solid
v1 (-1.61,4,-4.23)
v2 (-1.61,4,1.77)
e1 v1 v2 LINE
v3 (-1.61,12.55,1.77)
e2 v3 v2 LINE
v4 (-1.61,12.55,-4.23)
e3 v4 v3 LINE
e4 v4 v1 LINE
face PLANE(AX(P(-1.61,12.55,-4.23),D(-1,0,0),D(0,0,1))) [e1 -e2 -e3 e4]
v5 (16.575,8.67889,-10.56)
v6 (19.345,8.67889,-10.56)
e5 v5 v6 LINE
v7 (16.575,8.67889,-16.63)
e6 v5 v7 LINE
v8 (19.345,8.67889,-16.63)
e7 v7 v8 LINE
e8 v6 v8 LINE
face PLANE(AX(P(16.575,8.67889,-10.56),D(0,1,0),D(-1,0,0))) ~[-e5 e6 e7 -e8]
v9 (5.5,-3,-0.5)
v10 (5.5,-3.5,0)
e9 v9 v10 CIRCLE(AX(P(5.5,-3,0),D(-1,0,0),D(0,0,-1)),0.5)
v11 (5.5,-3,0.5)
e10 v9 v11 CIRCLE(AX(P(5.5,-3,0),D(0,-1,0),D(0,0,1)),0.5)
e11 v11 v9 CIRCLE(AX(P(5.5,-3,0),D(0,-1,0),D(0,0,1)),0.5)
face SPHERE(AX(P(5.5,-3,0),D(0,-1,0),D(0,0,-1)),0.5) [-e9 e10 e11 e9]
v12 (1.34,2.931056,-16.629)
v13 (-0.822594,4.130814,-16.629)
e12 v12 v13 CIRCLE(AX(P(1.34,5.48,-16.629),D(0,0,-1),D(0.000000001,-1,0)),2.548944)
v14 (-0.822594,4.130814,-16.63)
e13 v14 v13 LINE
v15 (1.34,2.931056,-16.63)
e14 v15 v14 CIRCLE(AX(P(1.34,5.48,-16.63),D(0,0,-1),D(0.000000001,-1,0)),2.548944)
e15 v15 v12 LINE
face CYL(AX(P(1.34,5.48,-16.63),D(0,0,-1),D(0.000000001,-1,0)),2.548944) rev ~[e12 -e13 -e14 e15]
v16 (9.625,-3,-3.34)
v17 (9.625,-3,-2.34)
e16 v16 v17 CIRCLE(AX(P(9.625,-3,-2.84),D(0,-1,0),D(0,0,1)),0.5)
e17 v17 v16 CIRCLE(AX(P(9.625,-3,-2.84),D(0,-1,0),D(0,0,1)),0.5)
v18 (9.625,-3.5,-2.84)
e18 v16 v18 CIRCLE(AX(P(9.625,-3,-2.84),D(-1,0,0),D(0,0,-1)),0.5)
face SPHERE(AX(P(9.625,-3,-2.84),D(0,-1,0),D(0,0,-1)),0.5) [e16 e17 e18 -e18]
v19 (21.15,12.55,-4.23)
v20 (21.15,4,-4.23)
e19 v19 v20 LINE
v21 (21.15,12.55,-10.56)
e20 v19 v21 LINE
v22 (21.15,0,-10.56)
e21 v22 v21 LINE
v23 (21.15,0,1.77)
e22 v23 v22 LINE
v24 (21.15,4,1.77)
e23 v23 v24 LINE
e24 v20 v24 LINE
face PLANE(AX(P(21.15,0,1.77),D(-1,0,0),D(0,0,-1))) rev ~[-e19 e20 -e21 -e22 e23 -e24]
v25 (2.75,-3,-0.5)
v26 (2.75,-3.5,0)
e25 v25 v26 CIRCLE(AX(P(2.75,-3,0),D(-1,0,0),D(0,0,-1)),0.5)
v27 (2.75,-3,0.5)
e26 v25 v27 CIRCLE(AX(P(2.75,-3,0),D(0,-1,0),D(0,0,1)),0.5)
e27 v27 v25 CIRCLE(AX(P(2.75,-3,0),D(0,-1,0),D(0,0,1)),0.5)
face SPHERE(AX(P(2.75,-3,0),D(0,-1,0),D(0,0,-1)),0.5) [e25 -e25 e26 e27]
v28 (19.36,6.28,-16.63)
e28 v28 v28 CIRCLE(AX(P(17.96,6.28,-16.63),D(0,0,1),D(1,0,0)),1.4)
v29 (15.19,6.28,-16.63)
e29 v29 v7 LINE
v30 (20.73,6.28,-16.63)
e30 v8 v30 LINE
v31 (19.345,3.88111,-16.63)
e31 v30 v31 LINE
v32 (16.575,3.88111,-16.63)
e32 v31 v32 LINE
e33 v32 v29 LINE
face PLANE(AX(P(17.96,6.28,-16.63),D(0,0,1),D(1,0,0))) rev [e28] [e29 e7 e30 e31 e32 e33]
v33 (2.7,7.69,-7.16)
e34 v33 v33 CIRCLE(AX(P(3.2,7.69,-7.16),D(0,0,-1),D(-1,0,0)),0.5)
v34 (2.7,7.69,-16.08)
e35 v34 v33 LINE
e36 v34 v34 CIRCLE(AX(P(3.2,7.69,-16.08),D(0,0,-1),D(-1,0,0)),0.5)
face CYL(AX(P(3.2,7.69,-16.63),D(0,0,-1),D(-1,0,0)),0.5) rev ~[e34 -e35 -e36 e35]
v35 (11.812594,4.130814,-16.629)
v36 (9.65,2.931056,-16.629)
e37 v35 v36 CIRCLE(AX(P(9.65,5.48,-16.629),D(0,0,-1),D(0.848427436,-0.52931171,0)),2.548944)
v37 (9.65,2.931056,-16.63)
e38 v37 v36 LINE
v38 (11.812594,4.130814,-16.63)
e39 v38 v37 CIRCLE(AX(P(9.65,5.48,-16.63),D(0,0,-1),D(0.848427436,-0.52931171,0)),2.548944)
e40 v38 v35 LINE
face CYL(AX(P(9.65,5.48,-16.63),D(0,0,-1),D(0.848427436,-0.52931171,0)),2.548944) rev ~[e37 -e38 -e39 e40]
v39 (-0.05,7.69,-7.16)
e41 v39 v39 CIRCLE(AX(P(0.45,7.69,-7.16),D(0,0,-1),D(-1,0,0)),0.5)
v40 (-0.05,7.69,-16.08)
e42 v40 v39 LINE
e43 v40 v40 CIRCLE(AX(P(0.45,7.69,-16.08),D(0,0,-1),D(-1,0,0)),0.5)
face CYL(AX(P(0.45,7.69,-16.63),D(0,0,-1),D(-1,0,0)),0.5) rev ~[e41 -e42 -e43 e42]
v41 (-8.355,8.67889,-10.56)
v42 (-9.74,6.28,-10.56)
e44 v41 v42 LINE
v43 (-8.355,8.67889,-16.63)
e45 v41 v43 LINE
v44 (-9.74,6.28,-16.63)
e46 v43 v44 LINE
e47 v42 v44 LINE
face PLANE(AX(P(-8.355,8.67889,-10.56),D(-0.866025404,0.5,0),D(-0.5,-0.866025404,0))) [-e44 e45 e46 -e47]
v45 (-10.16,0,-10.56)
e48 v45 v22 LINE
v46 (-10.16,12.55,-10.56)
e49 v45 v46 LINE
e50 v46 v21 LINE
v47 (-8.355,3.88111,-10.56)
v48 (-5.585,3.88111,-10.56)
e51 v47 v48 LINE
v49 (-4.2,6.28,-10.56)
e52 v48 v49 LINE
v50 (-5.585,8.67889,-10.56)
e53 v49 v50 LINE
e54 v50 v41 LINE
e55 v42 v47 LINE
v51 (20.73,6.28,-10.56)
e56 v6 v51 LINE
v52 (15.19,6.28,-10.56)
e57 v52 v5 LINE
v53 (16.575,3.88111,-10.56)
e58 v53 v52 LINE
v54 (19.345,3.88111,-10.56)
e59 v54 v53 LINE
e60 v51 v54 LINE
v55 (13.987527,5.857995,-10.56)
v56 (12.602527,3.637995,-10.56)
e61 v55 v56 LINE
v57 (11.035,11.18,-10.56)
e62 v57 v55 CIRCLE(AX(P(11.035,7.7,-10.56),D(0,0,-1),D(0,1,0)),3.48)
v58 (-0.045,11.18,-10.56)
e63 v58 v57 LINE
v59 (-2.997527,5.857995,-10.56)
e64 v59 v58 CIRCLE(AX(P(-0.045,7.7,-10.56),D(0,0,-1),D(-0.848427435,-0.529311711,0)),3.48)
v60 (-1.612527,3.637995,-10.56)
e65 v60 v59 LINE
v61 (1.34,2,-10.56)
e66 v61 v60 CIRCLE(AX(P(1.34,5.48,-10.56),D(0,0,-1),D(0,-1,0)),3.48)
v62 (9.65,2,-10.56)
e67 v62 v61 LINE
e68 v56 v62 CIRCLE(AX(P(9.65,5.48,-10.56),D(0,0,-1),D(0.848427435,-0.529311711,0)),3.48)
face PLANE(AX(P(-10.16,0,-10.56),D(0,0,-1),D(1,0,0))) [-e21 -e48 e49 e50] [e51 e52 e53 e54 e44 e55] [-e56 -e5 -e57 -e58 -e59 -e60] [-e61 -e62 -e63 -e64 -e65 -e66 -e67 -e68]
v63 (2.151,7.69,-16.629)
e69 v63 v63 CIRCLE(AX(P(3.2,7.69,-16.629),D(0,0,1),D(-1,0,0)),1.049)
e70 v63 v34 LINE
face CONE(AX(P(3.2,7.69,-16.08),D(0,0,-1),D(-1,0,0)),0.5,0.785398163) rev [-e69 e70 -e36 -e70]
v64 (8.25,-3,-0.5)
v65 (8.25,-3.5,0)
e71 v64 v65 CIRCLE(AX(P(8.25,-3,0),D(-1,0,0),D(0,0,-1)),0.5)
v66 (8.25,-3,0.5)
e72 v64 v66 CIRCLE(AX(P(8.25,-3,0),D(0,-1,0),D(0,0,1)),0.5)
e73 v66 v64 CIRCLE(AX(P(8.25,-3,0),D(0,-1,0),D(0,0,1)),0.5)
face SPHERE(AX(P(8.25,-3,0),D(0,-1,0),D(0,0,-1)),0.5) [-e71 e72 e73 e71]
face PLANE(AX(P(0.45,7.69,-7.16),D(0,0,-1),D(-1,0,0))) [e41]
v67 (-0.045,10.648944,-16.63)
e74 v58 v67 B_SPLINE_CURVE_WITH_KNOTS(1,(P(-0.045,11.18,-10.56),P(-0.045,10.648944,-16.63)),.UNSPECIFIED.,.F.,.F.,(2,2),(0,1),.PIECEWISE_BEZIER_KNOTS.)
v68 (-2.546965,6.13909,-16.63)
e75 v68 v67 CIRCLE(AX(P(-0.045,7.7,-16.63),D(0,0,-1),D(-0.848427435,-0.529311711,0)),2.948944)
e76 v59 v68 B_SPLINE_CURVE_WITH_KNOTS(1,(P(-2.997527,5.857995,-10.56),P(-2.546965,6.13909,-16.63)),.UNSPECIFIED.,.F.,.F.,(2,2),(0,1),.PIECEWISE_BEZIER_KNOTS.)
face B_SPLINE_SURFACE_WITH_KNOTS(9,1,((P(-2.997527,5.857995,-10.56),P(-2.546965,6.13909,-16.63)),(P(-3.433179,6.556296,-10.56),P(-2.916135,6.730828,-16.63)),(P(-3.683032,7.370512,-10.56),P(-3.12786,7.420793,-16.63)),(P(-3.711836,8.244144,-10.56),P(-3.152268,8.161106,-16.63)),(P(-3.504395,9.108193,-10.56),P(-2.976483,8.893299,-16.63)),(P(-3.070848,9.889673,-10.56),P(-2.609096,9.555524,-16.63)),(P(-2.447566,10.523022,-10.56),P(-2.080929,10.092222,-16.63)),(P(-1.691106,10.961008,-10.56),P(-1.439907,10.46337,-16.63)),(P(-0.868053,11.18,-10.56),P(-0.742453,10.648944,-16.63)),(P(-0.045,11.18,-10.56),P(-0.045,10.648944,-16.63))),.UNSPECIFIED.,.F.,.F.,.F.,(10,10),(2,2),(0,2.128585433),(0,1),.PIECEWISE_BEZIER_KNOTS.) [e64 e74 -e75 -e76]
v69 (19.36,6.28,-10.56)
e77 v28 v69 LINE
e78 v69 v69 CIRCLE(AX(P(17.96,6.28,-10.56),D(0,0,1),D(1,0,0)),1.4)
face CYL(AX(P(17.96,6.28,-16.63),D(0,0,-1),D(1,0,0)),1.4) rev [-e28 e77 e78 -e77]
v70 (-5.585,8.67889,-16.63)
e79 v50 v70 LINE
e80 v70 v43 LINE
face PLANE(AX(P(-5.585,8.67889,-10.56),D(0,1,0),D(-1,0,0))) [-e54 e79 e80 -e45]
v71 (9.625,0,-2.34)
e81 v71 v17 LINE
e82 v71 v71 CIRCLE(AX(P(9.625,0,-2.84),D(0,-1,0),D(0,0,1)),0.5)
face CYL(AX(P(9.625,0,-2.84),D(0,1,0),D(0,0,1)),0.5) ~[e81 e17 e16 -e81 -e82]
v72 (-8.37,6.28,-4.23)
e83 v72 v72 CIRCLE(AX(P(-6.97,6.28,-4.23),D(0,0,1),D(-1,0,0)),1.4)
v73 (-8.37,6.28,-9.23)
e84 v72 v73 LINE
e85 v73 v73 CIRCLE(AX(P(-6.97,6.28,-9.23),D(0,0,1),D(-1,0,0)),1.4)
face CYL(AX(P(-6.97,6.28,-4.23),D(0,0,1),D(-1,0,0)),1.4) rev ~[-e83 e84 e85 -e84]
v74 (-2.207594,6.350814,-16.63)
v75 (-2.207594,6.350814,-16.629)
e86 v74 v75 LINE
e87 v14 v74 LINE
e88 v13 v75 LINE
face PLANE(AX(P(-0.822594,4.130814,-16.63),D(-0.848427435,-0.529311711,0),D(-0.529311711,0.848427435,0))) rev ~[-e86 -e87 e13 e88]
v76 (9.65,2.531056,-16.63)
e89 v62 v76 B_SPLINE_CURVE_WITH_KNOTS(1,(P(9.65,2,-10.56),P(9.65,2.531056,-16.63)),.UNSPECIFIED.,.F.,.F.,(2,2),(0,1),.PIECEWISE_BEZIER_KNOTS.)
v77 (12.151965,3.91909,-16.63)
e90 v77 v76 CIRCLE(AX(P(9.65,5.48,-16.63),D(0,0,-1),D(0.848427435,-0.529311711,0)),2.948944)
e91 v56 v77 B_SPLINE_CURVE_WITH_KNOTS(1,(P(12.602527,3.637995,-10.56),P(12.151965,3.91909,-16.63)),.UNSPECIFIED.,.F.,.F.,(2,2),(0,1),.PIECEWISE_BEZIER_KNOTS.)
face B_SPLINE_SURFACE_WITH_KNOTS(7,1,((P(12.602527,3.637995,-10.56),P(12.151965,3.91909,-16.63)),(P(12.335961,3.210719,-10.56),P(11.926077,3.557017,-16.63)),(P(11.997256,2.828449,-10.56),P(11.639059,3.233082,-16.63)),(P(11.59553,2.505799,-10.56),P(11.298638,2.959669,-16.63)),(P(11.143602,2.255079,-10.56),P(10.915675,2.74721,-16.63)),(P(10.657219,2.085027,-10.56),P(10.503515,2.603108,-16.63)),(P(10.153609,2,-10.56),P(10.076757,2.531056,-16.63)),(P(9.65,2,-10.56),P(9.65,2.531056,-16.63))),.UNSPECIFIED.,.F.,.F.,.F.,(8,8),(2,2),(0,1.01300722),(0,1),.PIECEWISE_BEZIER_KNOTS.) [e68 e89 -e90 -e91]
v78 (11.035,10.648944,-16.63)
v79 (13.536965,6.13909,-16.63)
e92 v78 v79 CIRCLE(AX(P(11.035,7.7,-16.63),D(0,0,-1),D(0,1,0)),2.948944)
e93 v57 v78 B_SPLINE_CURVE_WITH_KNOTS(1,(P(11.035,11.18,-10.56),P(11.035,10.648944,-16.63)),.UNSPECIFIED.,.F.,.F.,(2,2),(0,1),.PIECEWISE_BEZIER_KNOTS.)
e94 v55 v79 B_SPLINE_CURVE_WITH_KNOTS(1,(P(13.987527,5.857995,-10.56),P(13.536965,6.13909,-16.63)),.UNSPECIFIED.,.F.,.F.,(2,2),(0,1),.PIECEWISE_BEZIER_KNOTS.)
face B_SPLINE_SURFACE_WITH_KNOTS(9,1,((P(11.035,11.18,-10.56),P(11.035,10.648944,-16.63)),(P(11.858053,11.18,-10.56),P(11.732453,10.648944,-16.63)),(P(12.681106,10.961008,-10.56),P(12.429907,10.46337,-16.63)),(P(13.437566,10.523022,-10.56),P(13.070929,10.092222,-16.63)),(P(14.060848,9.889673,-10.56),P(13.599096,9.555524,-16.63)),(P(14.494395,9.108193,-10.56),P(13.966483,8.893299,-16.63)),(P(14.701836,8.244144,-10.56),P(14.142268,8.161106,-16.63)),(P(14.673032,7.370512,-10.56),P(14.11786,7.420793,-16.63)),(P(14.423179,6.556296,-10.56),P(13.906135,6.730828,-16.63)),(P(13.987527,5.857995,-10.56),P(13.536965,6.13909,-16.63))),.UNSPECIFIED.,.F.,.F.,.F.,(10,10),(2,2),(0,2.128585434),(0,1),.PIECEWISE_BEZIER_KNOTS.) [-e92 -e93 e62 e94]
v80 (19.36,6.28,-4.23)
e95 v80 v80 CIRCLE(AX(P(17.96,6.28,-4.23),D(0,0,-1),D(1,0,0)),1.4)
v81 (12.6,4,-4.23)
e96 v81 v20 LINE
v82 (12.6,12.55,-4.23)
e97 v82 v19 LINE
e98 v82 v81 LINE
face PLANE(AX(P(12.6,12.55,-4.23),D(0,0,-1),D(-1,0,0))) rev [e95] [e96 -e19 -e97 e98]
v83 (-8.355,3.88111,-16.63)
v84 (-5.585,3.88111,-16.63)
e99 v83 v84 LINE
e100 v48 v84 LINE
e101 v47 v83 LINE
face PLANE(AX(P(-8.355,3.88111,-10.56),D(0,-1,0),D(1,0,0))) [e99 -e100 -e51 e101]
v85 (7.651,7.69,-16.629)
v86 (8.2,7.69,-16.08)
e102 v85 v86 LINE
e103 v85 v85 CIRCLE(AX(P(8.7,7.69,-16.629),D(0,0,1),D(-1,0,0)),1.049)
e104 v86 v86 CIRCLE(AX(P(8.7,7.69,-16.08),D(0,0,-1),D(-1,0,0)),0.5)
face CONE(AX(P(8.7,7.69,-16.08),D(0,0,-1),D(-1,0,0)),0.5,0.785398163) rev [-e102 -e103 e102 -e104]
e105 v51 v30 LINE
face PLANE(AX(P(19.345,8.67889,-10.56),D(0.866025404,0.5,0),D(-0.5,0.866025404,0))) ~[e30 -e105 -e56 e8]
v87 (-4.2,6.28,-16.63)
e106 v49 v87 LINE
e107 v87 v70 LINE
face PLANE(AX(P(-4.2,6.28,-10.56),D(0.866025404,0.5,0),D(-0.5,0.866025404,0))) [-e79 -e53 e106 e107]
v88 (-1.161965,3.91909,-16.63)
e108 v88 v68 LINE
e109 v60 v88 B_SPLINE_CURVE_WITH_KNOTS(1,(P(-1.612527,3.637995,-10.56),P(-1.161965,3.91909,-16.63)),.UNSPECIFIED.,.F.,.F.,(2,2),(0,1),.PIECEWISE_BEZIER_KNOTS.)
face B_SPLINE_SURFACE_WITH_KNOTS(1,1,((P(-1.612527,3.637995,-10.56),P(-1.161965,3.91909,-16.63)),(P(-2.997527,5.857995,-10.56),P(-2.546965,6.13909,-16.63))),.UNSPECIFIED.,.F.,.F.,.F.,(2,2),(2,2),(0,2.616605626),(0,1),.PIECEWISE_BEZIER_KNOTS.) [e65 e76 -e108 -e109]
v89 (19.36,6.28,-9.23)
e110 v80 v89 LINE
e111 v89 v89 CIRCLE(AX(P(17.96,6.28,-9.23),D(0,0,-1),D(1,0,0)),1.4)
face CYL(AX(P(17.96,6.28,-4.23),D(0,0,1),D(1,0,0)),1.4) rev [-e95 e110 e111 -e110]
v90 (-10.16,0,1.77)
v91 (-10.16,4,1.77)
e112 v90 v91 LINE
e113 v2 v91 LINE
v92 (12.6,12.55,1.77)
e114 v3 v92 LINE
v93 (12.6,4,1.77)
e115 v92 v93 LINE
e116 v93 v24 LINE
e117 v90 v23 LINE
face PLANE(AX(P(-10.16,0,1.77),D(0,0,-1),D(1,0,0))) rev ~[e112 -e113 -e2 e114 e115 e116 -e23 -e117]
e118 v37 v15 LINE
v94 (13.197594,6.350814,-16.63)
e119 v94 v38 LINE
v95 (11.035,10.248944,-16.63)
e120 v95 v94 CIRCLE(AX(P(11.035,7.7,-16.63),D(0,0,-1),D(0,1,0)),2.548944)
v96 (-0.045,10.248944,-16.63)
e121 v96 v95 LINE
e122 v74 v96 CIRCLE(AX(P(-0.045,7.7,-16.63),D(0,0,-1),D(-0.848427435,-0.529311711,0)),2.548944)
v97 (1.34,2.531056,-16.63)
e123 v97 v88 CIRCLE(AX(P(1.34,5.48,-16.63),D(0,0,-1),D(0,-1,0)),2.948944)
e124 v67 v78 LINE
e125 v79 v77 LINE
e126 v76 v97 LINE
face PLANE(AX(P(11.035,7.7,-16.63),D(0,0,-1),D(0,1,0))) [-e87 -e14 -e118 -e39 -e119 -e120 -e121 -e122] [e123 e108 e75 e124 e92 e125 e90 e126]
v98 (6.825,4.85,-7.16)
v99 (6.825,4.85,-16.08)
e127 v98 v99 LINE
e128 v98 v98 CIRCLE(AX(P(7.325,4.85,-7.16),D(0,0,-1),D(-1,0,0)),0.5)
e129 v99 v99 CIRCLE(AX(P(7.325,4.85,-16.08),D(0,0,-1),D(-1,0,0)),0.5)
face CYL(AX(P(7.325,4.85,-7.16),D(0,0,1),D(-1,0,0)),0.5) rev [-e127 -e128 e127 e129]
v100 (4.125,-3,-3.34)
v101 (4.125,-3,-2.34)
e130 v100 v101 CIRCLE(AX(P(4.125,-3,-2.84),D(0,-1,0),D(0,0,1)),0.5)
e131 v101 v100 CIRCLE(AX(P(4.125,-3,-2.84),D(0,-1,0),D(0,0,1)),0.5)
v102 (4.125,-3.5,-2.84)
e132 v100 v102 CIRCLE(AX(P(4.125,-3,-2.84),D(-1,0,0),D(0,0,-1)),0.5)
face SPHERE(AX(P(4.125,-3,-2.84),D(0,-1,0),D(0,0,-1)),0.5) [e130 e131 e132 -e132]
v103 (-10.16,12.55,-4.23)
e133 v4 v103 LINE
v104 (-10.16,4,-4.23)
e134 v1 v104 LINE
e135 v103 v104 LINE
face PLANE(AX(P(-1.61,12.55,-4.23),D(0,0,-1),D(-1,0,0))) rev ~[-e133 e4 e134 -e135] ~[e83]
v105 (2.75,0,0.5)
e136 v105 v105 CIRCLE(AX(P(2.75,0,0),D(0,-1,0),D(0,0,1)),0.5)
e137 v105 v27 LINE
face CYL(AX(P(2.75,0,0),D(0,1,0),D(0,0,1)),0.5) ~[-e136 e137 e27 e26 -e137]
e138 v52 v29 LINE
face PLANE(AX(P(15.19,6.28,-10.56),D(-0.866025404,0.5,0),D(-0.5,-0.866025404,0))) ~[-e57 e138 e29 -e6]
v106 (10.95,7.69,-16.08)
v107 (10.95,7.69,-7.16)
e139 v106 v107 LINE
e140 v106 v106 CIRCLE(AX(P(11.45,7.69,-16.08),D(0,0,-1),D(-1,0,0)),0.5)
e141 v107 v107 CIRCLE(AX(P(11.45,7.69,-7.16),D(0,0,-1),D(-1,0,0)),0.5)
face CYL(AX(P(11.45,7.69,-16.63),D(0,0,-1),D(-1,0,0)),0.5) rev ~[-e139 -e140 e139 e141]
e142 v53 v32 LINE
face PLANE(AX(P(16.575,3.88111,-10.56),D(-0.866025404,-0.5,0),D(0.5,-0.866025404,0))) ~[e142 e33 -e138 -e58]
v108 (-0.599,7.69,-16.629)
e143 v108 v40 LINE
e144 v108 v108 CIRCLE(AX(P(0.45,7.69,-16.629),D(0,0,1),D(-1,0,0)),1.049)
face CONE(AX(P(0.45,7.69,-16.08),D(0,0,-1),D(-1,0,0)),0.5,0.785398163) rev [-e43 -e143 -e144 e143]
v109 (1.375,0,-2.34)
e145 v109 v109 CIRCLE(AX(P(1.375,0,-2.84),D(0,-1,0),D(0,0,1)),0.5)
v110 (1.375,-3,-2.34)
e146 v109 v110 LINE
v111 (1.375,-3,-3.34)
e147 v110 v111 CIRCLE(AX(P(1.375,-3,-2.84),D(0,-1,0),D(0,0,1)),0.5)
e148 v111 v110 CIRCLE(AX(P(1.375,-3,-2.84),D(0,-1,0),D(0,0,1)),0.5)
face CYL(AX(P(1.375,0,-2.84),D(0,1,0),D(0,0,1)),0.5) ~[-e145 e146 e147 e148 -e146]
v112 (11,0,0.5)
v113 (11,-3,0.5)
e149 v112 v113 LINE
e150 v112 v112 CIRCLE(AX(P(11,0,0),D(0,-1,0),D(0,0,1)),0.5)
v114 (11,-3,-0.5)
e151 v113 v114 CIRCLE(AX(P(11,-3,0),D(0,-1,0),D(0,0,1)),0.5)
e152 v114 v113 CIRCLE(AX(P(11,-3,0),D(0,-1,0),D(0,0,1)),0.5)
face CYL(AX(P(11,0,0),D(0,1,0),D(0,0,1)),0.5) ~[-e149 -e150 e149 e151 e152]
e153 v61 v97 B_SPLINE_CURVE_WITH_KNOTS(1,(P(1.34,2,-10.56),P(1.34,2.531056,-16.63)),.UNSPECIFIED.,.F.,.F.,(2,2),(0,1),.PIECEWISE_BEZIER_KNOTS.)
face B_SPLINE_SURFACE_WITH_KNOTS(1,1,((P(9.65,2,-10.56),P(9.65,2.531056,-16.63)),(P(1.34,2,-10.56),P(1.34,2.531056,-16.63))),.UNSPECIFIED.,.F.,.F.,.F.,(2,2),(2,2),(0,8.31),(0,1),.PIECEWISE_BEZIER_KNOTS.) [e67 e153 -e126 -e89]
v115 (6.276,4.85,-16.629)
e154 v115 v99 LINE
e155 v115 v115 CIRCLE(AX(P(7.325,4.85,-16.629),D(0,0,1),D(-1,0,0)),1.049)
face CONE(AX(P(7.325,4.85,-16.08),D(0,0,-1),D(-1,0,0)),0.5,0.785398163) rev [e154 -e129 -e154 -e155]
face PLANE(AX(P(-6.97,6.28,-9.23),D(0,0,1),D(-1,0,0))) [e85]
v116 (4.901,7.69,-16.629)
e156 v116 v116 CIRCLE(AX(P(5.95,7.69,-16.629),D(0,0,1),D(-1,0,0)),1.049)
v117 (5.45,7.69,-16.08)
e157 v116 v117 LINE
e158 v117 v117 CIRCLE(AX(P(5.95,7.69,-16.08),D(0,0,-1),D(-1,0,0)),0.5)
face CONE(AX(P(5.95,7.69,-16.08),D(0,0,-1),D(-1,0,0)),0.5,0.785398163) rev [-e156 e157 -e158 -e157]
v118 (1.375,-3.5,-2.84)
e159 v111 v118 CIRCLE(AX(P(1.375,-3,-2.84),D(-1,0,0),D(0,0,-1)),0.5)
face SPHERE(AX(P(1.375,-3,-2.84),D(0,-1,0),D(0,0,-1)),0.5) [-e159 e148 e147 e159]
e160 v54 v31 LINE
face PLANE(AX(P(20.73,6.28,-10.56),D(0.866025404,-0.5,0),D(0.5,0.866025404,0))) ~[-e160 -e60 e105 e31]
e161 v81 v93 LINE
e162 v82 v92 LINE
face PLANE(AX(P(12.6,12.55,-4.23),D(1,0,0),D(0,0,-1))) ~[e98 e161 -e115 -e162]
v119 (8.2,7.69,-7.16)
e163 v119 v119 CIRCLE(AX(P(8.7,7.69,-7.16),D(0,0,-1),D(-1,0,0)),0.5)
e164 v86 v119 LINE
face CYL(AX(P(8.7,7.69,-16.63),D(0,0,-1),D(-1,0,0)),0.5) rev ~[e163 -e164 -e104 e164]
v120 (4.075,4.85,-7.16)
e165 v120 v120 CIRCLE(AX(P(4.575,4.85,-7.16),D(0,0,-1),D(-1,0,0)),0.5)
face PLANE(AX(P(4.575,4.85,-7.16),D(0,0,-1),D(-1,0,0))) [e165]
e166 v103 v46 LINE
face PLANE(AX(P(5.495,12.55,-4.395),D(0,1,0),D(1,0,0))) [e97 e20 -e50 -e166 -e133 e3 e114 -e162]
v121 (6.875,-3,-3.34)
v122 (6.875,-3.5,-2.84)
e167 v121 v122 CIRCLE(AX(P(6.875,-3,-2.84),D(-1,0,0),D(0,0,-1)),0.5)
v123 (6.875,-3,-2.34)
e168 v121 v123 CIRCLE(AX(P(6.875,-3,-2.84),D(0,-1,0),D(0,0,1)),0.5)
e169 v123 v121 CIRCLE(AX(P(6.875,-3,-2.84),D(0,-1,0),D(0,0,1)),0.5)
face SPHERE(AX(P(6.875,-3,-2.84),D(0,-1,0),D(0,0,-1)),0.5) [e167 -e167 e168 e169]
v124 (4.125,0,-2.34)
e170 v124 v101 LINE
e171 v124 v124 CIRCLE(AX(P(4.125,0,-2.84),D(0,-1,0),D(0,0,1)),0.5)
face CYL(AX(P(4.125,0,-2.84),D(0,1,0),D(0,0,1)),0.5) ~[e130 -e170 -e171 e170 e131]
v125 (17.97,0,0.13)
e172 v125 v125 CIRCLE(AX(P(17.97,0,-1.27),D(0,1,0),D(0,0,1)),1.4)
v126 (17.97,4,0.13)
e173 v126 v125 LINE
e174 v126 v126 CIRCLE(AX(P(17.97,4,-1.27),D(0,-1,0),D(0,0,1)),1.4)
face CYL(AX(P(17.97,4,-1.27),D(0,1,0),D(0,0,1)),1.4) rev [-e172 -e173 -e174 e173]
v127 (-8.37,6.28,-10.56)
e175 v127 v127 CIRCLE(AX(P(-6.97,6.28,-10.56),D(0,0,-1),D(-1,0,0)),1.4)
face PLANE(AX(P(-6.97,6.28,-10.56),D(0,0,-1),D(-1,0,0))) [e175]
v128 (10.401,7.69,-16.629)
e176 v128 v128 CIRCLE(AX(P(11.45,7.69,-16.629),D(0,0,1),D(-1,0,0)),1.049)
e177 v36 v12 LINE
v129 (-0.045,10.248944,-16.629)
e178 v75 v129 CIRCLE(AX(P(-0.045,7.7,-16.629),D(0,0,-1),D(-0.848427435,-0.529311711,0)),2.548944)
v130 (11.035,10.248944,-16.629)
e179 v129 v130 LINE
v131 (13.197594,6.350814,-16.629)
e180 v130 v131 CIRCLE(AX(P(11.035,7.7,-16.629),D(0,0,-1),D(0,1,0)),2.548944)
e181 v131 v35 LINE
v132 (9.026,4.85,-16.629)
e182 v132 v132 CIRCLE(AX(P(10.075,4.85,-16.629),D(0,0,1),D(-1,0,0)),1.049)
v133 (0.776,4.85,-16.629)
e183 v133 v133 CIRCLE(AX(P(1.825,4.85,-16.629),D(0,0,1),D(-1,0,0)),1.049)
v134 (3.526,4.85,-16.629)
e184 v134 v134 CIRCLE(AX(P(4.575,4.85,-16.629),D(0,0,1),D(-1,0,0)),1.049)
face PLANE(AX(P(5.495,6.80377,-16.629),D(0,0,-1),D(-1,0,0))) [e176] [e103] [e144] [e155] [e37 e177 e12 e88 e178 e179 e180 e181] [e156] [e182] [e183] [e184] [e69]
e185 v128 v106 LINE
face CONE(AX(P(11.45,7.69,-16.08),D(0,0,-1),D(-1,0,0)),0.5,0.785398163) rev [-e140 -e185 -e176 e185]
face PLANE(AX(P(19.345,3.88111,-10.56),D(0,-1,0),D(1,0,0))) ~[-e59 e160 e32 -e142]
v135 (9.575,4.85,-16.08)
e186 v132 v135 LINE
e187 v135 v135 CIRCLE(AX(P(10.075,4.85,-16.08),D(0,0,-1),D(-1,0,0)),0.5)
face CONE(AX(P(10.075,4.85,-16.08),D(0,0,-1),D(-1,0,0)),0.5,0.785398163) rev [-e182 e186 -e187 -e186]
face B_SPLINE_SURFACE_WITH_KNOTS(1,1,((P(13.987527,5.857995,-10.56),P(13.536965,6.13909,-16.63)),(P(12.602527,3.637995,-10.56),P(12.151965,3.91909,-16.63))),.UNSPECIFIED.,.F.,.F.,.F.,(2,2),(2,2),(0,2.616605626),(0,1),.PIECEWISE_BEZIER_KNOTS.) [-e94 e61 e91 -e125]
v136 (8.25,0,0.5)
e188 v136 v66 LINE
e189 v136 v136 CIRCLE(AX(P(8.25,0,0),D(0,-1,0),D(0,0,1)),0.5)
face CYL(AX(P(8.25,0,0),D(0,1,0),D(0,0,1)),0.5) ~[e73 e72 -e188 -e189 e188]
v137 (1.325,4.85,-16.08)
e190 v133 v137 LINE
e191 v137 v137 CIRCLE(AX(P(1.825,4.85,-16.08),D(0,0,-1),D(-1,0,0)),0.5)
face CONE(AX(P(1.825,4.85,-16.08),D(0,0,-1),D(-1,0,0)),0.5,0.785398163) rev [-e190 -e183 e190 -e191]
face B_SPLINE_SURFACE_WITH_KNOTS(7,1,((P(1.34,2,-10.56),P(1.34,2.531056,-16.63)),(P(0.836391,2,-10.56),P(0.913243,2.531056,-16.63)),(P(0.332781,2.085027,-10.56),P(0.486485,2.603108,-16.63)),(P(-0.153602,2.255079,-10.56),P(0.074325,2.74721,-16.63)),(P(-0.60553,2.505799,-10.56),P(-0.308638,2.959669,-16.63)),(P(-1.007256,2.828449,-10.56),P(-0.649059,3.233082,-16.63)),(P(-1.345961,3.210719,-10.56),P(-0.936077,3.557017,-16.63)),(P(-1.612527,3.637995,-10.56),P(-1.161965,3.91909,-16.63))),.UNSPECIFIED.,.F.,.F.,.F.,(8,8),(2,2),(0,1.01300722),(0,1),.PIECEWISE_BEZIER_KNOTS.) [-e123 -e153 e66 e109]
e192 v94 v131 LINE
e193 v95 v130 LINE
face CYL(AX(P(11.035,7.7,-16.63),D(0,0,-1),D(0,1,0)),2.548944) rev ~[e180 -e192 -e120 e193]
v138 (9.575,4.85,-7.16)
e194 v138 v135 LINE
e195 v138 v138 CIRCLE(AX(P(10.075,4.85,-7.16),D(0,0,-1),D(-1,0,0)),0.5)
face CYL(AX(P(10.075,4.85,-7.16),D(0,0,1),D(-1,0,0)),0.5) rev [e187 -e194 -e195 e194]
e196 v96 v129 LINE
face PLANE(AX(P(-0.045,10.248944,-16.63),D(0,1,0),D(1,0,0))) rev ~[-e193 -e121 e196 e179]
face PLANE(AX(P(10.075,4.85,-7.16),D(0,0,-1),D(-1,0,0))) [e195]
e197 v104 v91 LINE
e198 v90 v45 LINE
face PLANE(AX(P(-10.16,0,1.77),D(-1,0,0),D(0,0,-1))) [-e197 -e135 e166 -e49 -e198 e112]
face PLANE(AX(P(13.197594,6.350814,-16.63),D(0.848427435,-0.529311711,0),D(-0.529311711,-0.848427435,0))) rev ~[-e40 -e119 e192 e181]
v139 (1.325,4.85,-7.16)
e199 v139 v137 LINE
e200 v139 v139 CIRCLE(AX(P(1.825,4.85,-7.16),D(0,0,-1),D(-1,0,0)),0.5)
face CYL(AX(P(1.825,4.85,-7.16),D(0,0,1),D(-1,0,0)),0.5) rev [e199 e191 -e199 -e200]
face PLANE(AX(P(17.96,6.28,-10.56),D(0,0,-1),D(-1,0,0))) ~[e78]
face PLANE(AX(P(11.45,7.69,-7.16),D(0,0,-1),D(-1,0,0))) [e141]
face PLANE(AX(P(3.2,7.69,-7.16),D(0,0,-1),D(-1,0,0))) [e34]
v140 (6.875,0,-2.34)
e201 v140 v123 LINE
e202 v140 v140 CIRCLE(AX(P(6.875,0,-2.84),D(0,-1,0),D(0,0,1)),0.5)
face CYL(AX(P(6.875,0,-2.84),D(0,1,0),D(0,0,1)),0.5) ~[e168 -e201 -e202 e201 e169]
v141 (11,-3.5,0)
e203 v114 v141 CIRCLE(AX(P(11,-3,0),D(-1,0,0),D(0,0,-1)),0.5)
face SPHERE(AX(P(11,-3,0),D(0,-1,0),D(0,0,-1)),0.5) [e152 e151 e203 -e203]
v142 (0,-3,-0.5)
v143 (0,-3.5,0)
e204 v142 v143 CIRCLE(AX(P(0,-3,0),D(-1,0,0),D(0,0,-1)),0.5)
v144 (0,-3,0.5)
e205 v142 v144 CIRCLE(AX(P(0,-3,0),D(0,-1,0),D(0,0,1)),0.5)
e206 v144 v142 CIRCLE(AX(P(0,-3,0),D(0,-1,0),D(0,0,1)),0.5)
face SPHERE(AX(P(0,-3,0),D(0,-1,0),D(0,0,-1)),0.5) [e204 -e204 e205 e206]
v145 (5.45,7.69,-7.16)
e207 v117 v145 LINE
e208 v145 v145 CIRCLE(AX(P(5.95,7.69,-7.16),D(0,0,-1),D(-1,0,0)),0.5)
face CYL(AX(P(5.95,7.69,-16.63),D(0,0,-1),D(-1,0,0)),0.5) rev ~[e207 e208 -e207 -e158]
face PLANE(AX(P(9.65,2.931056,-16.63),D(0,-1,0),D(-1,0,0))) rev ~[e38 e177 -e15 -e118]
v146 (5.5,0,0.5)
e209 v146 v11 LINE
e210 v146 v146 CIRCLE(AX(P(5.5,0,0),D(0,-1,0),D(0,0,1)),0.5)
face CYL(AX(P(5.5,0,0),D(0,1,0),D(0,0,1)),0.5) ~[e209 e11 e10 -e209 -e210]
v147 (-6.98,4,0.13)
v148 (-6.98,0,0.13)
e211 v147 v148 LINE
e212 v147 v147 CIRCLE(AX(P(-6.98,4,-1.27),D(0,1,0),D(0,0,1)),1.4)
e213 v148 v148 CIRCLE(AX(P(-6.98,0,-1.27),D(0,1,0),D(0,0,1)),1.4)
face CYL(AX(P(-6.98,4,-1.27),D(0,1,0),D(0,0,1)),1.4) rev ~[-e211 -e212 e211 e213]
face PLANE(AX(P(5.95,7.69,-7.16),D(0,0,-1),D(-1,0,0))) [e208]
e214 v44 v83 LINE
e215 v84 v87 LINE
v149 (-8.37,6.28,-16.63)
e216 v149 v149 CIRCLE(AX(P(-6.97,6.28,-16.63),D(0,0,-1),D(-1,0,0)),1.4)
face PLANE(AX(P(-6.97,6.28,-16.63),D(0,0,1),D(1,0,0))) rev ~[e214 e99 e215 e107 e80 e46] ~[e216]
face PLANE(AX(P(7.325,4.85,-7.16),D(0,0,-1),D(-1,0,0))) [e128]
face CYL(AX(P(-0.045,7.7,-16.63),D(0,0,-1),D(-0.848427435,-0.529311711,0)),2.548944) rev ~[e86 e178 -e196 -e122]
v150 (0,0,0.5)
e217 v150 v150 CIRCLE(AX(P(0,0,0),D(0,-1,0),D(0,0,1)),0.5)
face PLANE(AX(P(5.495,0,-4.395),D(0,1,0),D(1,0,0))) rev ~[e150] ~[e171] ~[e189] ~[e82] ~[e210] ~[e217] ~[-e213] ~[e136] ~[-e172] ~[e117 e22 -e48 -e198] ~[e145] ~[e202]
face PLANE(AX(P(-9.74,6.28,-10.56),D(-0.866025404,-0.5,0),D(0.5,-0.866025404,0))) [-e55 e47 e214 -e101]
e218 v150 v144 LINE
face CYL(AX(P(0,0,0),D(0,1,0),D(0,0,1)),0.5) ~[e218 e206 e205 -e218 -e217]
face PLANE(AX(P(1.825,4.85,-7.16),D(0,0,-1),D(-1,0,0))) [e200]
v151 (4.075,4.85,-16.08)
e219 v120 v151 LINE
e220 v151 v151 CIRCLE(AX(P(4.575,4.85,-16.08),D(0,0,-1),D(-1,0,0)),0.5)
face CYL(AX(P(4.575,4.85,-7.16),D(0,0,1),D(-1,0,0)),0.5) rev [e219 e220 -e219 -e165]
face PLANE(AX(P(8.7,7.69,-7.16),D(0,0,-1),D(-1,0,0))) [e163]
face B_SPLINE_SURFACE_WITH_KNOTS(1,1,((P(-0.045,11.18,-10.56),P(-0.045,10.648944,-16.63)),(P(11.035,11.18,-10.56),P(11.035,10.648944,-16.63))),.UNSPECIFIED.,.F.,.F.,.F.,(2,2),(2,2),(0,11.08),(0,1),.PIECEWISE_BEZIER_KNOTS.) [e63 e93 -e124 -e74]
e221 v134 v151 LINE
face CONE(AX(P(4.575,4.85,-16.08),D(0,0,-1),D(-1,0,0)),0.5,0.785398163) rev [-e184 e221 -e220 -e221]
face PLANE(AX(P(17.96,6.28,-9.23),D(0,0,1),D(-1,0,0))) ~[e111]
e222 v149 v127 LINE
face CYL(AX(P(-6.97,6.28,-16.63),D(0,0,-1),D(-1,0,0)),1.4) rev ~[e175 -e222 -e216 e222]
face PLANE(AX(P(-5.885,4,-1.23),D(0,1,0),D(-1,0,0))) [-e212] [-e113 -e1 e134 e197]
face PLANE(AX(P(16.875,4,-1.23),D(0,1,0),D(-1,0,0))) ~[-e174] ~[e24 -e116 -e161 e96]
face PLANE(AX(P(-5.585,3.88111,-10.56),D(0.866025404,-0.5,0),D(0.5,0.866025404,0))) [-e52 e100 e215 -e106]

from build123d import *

# Parameters (mm, degrees)
SKETCH1_W                    = 31.31
SKETCH1_H                    = 12.33
BOARD_OUTLINE_DEPTH          = 12.55
SKETCH2_W                    = 8.55
SKETCH2_H                    = 6
CUT_EXTRUDE1_DEPTH           = 8.55
SKETCH3_R                    = 1.4
CUT_EXTRUDE2_DEPTH           = 26.13838897
BOSS_EXTRUDE1_DEPTH          = 6.07
SKETCH5_R                    = 1.4
CUT_EXTRUDE3_DEPTH           = 6.07
BOSS_EXTRUDE2_DEPTH          = 6.07
BOSS_EXTRUDE2_TAPER          = 5
SKETCH12_R                   = 1.4
CUT_EXTRUDE7_DEPTH           = 5
SKETCH7_R                    = 0.5
CUT_EXTRUDE4_DEPTH           = 9.47
CHAMFER2_SIZE                = 0.55
LPATTERN1_COUNT              = 5
LPATTERN1_PITCH              = 2.75
CHAMFER2_OF_LPATTERN1_SIZE   = 0.55
CUT_EXTRUDE5_START           = -9.47
SKETCH8_R                    = 0.5
CUT_EXTRUDE5_DEPTH           = 9.47
CHAMFER3_SIZE                = 0.55
LPATTERN2_COUNT              = 4
LPATTERN2_PITCH              = 2.75
CHAMFER3_OF_LPATTERN2_SIZE   = 0.55
SKETCH9_R                    = 0.5
BOSS_EXTRUDE3_DEPTH          = 3
DOME1_FACE_RADIUS            = 0.5
DOME1_HEIGHT                 = 0.5
LPATTERN3_COUNT              = 5
LPATTERN3_PITCH              = 2.75
LPATTERN3_COPY_1_FACE_RADIUS = 0.5
LPATTERN3_COPY_1_HEIGHT      = 0.5
LPATTERN3_COPY_2_FACE_RADIUS = 0.5
LPATTERN3_COPY_2_HEIGHT      = 0.5
LPATTERN3_COPY_3_FACE_RADIUS = 0.5
LPATTERN3_COPY_3_HEIGHT      = 0.5
LPATTERN3_COPY_4_FACE_RADIUS = 0.5
LPATTERN3_COPY_4_HEIGHT      = 0.5
SKETCH10_R                   = 0.5
BOSS_EXTRUDE4_DEPTH          = 3
DOME2_FACE_RADIUS            = 0.5
DOME2_HEIGHT                 = 0.5
LPATTERN4_COUNT              = 4
LPATTERN4_PITCH              = 2.75
LPATTERN4_COPY_1_FACE_RADIUS = 0.5
LPATTERN4_COPY_1_HEIGHT      = 0.5
LPATTERN4_COPY_2_FACE_RADIUS = 0.5
LPATTERN4_COPY_2_HEIGHT      = 0.5
LPATTERN4_COPY_3_FACE_RADIUS = 0.5
LPATTERN4_COPY_3_HEIGHT      = 0.5
CUT_EXTRUDE6_DEPTH           = 0.001


with BuildPart() as part:
    # Sketch1 → Board_Outline (new body)
    with BuildSketch(Plane(origin=(0, 0, 0), x_dir=(1, 0, 0), z_dir=(0, 1, 0))):
        with Locations((5.495, 4.395)):
            Rectangle(SKETCH1_W, SKETCH1_H)
    extrude(amount=BOARD_OUTLINE_DEPTH)

    # Sketch2 → Cut-Extrude1 (cut)
    with BuildSketch(Plane(origin=(0, 12.55, 0), x_dir=(-1, 0, 0), z_dir=(0, 1, 0))):
        with Locations((5.885, -1.23)):
            Rectangle(SKETCH2_W, SKETCH2_H)
    cut_extrude1 = extrude(amount=-CUT_EXTRUDE1_DEPTH, mode=Mode.SUBTRACT)

    # Sketch3 → Cut-Extrude2 (cut, through all)
    with BuildSketch(Plane(origin=(0, 4, 0), x_dir=(-1, 0, 0), z_dir=(0, 1, 0))):
        with Locations(Location((6.98, -1.27, 0), (0, 0, 90))):
            Circle(SKETCH3_R)
    cut_extrude2 = extrude(amount=-CUT_EXTRUDE2_DEPTH, mode=Mode.SUBTRACT)

    # Sketch4 → Boss-Extrude1 (add)
    with BuildSketch(Plane(origin=(0, 0, -10.56), x_dir=(-1, 0, 0), z_dir=(0, 0, -1))):
        Polygon((8.355, 3.881109632), (5.585, 3.881109632), (4.2, 6.28), (5.585, 8.678890368), (8.355, 8.678890368), (9.74, 6.28), align=None)
    boss_extrude1 = extrude(amount=BOSS_EXTRUDE1_DEPTH)

    # Sketch5 → Cut-Extrude3 (cut)
    with BuildSketch(Plane(origin=(0, 0, -16.63), x_dir=(-1, 0, 0), z_dir=(0, 0, -1))):
        with Locations((6.97, 6.28)):
            Circle(SKETCH5_R)
    cut_extrude3 = extrude(amount=-CUT_EXTRUDE3_DEPTH, mode=Mode.SUBTRACT)

    # Sketch6 → Boss-Extrude2 (add)
    with BuildSketch(Plane(origin=(0, 0, -10.56), x_dir=(-1, 0, 0), z_dir=(0, 0, -1))):
        with BuildLine():
            ThreePointArc((-11.035, 11.18), (-14.078072176, 9.388227393), (-13.987527475, 5.857995247))
            Line((-13.987527475, 5.857995247), (-12.602527475, 3.637995247))
            ThreePointArc((-12.602527475, 3.637995247), (-11.338227393, 2.436927824), (-9.65, 2))
            Line((-9.65, 2), (-1.34, 2))
            ThreePointArc((-1.34, 2), (0.348227393, 2.436927824), (1.612527475, 3.637995247))
            Line((1.612527475, 3.637995247), (2.997527475, 5.857995247))
            ThreePointArc((2.997527475, 5.857995247), (3.088072176, 9.388227393), (0.045, 11.18))
            Line((0.045, 11.18), (-11.035, 11.18))
        make_face()
    extrude(amount=BOSS_EXTRUDE2_DEPTH, taper=BOSS_EXTRUDE2_TAPER)

    # Sketch12 → Cut-Extrude7 (cut)
    with BuildSketch(Plane.XY.offset(-4.23)):
        with Locations(Location((-6.97, 6.28, 0), (0, 0, 180))):
            Circle(SKETCH12_R)
    cut_extrude7 = extrude(amount=-CUT_EXTRUDE7_DEPTH, mode=Mode.SUBTRACT)

    # Mirror1: Cut-Extrude1, Cut-Extrude2, Boss-Extrude1, Cut-Extrude3, Cut-Extrude7 across plane
    add(cut_extrude1.mirror(Plane.ZY.offset(-5.495)), mode=Mode.SUBTRACT)
    add(cut_extrude2.mirror(Plane.ZY.offset(-5.495)), mode=Mode.SUBTRACT)
    add(boss_extrude1.mirror(Plane.ZY.offset(-5.495)))
    add(cut_extrude3.mirror(Plane.ZY.offset(-5.495)), mode=Mode.SUBTRACT)
    add(cut_extrude7.mirror(Plane.ZY.offset(-5.495)), mode=Mode.SUBTRACT)

    # Sketch7 → Cut-Extrude4 (cut)
    with BuildSketch(Plane(origin=(0, 0, -16.63), x_dir=(-1, 0, 0), z_dir=(0, 0, -1))):
        with Locations((-0.45, 7.69)):
            Circle(SKETCH7_R)
    cut_extrude4 = extrude(amount=-CUT_EXTRUDE4_DEPTH, mode=Mode.SUBTRACT)

    # Chamfer2
    chamfer2_edges = [part.edges().sort_by_distance(p)[0] for p in [
        (0.95, 7.69, -16.63),
    ]]
    chamfer(chamfer2_edges, length=CHAMFER2_SIZE)

    # LPattern1: Cut-Extrude4 ×5
    with Locations(*[(i * LPATTERN1_PITCH, 0, 0) for i in range(1, LPATTERN1_COUNT)]):
        add(cut_extrude4, mode=Mode.SUBTRACT)

    # Chamfer2 of LPattern1
    chamfer2_of_lpattern1_edges = [part.edges().sort_by_distance(p)[0] for p in [
        (3.7, 7.69, -16.63),
        (6.45, 7.69, -16.63),
        (9.2, 7.69, -16.63),
        (11.95, 7.69, -16.63),
    ]]
    chamfer(chamfer2_of_lpattern1_edges, length=CHAMFER2_OF_LPATTERN1_SIZE)

    # Sketch8 → Cut-Extrude5 (cut)
    with BuildSketch(Plane(origin=(0, 0, -16.63), x_dir=(-1, 0, 0), z_dir=(0, 0, -1)).offset(CUT_EXTRUDE5_START)):
        with Locations((-1.825, 4.85)):
            Circle(SKETCH8_R)
    cut_extrude5 = extrude(amount=CUT_EXTRUDE5_DEPTH, mode=Mode.SUBTRACT)

    # Chamfer3
    chamfer3_edges = [part.edges().sort_by_distance(p)[0] for p in [
        (2.325, 4.85, -16.63),
    ]]
    chamfer(chamfer3_edges, length=CHAMFER3_SIZE)

    # LPattern2: Cut-Extrude5 ×4
    with Locations(*[(i * LPATTERN2_PITCH, 0, 0) for i in range(1, LPATTERN2_COUNT)]):
        add(cut_extrude5, mode=Mode.SUBTRACT)

    # Chamfer3 of LPattern2
    chamfer3_of_lpattern2_edges = [part.edges().sort_by_distance(p)[0] for p in [
        (5.075, 4.85, -16.63),
        (7.825, 4.85, -16.63),
        (10.575, 4.85, -16.63),
    ]]
    chamfer(chamfer3_of_lpattern2_edges, length=CHAMFER3_OF_LPATTERN2_SIZE)

    # Sketch9 → Boss-Extrude3 (add)
    with BuildSketch(Plane.XZ):
        with Locations(Location((0, 0, 0), (0, 0, 90))):
            Circle(SKETCH9_R)
    boss_extrude3 = extrude(amount=BOSS_EXTRUDE3_DEPTH)

    # Dome1: a dome of height H over a round flat face of radius A is a cap of a sphere of radius (A * A + H * H) / (2 * H)
    dome1_r = (DOME1_FACE_RADIUS * DOME1_FACE_RADIUS + DOME1_HEIGHT * DOME1_HEIGHT) / (2 * DOME1_HEIGHT)
    dome1_base = Plane((0, -3, 0), z_dir=(0, -1, 0))
    with Locations(dome1_base.offset(DOME1_HEIGHT - dome1_r)):
        dome1_ball = Sphere(dome1_r, mode=Mode.PRIVATE)
    add(split(dome1_ball, bisect_by=dome1_base, keep=Keep.TOP, mode=Mode.PRIVATE))

    # LPattern3: Boss-Extrude3 ×5
    with Locations(*[(i * LPATTERN3_PITCH, 0, 0) for i in range(1, LPATTERN3_COUNT)]):
        add(boss_extrude3)

    # LPattern3 copy 1: a dome of height H over a round flat face of radius A is a cap of a sphere of radius (A * A + H * H) / (2 * H)
    lpattern3_copy_1_r = (LPATTERN3_COPY_1_FACE_RADIUS * LPATTERN3_COPY_1_FACE_RADIUS + LPATTERN3_COPY_1_HEIGHT * LPATTERN3_COPY_1_HEIGHT) / (2 * LPATTERN3_COPY_1_HEIGHT)
    lpattern3_copy_1_base = Plane((2.75, -3, 0), z_dir=(0, -1, 0))
    with Locations(lpattern3_copy_1_base.offset(LPATTERN3_COPY_1_HEIGHT - lpattern3_copy_1_r)):
        lpattern3_copy_1_ball = Sphere(lpattern3_copy_1_r, mode=Mode.PRIVATE)
    add(split(lpattern3_copy_1_ball, bisect_by=lpattern3_copy_1_base, keep=Keep.TOP, mode=Mode.PRIVATE))

    # LPattern3 copy 2: a dome of height H over a round flat face of radius A is a cap of a sphere of radius (A * A + H * H) / (2 * H)
    lpattern3_copy_2_r = (LPATTERN3_COPY_2_FACE_RADIUS * LPATTERN3_COPY_2_FACE_RADIUS + LPATTERN3_COPY_2_HEIGHT * LPATTERN3_COPY_2_HEIGHT) / (2 * LPATTERN3_COPY_2_HEIGHT)
    lpattern3_copy_2_base = Plane((5.5, -3, 0), z_dir=(0, -1, 0))
    with Locations(lpattern3_copy_2_base.offset(LPATTERN3_COPY_2_HEIGHT - lpattern3_copy_2_r)):
        lpattern3_copy_2_ball = Sphere(lpattern3_copy_2_r, mode=Mode.PRIVATE)
    add(split(lpattern3_copy_2_ball, bisect_by=lpattern3_copy_2_base, keep=Keep.TOP, mode=Mode.PRIVATE))

    # LPattern3 copy 3: a dome of height H over a round flat face of radius A is a cap of a sphere of radius (A * A + H * H) / (2 * H)
    lpattern3_copy_3_r = (LPATTERN3_COPY_3_FACE_RADIUS * LPATTERN3_COPY_3_FACE_RADIUS + LPATTERN3_COPY_3_HEIGHT * LPATTERN3_COPY_3_HEIGHT) / (2 * LPATTERN3_COPY_3_HEIGHT)
    lpattern3_copy_3_base = Plane((8.25, -3, 0), z_dir=(0, -1, 0))
    with Locations(lpattern3_copy_3_base.offset(LPATTERN3_COPY_3_HEIGHT - lpattern3_copy_3_r)):
        lpattern3_copy_3_ball = Sphere(lpattern3_copy_3_r, mode=Mode.PRIVATE)
    add(split(lpattern3_copy_3_ball, bisect_by=lpattern3_copy_3_base, keep=Keep.TOP, mode=Mode.PRIVATE))

    # LPattern3 copy 4: a dome of height H over a round flat face of radius A is a cap of a sphere of radius (A * A + H * H) / (2 * H)
    lpattern3_copy_4_r = (LPATTERN3_COPY_4_FACE_RADIUS * LPATTERN3_COPY_4_FACE_RADIUS + LPATTERN3_COPY_4_HEIGHT * LPATTERN3_COPY_4_HEIGHT) / (2 * LPATTERN3_COPY_4_HEIGHT)
    lpattern3_copy_4_base = Plane((11, -3, 0), z_dir=(0, -1, 0))
    with Locations(lpattern3_copy_4_base.offset(LPATTERN3_COPY_4_HEIGHT - lpattern3_copy_4_r)):
        lpattern3_copy_4_ball = Sphere(lpattern3_copy_4_r, mode=Mode.PRIVATE)
    add(split(lpattern3_copy_4_ball, bisect_by=lpattern3_copy_4_base, keep=Keep.TOP, mode=Mode.PRIVATE))

    # Sketch10 → Boss-Extrude4 (add)
    with BuildSketch(Plane.XZ):
        with Locations(Location((1.375, -2.84, 0), (0, 0, 90))):
            Circle(SKETCH10_R)
    boss_extrude4 = extrude(amount=BOSS_EXTRUDE4_DEPTH)

    # Dome2: a dome of height H over a round flat face of radius A is a cap of a sphere of radius (A * A + H * H) / (2 * H)
    dome2_r = (DOME2_FACE_RADIUS * DOME2_FACE_RADIUS + DOME2_HEIGHT * DOME2_HEIGHT) / (2 * DOME2_HEIGHT)
    dome2_base = Plane((1.375, -3, -2.84), z_dir=(0, -1, 0))
    with Locations(dome2_base.offset(DOME2_HEIGHT - dome2_r)):
        dome2_ball = Sphere(dome2_r, mode=Mode.PRIVATE)
    add(split(dome2_ball, bisect_by=dome2_base, keep=Keep.TOP, mode=Mode.PRIVATE))

    # LPattern4: Boss-Extrude4 ×4
    with Locations(*[(i * LPATTERN4_PITCH, 0, 0) for i in range(1, LPATTERN4_COUNT)]):
        add(boss_extrude4)

    # LPattern4 copy 1: a dome of height H over a round flat face of radius A is a cap of a sphere of radius (A * A + H * H) / (2 * H)
    lpattern4_copy_1_r = (LPATTERN4_COPY_1_FACE_RADIUS * LPATTERN4_COPY_1_FACE_RADIUS + LPATTERN4_COPY_1_HEIGHT * LPATTERN4_COPY_1_HEIGHT) / (2 * LPATTERN4_COPY_1_HEIGHT)
    lpattern4_copy_1_base = Plane((4.125, -3, -2.84), z_dir=(0, -1, 0))
    with Locations(lpattern4_copy_1_base.offset(LPATTERN4_COPY_1_HEIGHT - lpattern4_copy_1_r)):
        lpattern4_copy_1_ball = Sphere(lpattern4_copy_1_r, mode=Mode.PRIVATE)
    add(split(lpattern4_copy_1_ball, bisect_by=lpattern4_copy_1_base, keep=Keep.TOP, mode=Mode.PRIVATE))

    # LPattern4 copy 2: a dome of height H over a round flat face of radius A is a cap of a sphere of radius (A * A + H * H) / (2 * H)
    lpattern4_copy_2_r = (LPATTERN4_COPY_2_FACE_RADIUS * LPATTERN4_COPY_2_FACE_RADIUS + LPATTERN4_COPY_2_HEIGHT * LPATTERN4_COPY_2_HEIGHT) / (2 * LPATTERN4_COPY_2_HEIGHT)
    lpattern4_copy_2_base = Plane((6.875, -3, -2.84), z_dir=(0, -1, 0))
    with Locations(lpattern4_copy_2_base.offset(LPATTERN4_COPY_2_HEIGHT - lpattern4_copy_2_r)):
        lpattern4_copy_2_ball = Sphere(lpattern4_copy_2_r, mode=Mode.PRIVATE)
    add(split(lpattern4_copy_2_ball, bisect_by=lpattern4_copy_2_base, keep=Keep.TOP, mode=Mode.PRIVATE))

    # LPattern4 copy 3: a dome of height H over a round flat face of radius A is a cap of a sphere of radius (A * A + H * H) / (2 * H)
    lpattern4_copy_3_r = (LPATTERN4_COPY_3_FACE_RADIUS * LPATTERN4_COPY_3_FACE_RADIUS + LPATTERN4_COPY_3_HEIGHT * LPATTERN4_COPY_3_HEIGHT) / (2 * LPATTERN4_COPY_3_HEIGHT)
    lpattern4_copy_3_base = Plane((9.625, -3, -2.84), z_dir=(0, -1, 0))
    with Locations(lpattern4_copy_3_base.offset(LPATTERN4_COPY_3_HEIGHT - lpattern4_copy_3_r)):
        lpattern4_copy_3_ball = Sphere(lpattern4_copy_3_r, mode=Mode.PRIVATE)
    add(split(lpattern4_copy_3_ball, bisect_by=lpattern4_copy_3_base, keep=Keep.TOP, mode=Mode.PRIVATE))

    # Sketch11 → Cut-Extrude6 (cut)
    with BuildSketch(Plane(origin=(0, 0, -16.63), x_dir=(-1, 0, 0), z_dir=(0, 0, -1))):
        with BuildLine():
            Line((0.822593861, 4.13081419), (2.207593861, 6.35081419))
            ThreePointArc((2.207593861, 6.35081419), (2.273913792, 8.936550795), (0.045, 10.248943812))
            Line((0.045, 10.248943812), (-11.035, 10.248943812))
            ThreePointArc((-11.035, 10.248943812), (-13.263913792, 8.936550795), (-13.197593861, 6.35081419))
            Line((-13.197593861, 6.35081419), (-11.812593861, 4.13081419))
            ThreePointArc((-11.812593861, 4.13081419), (-10.886550795, 3.251086208), (-9.65, 2.931056188))
            Line((-9.65, 2.931056188), (-1.34, 2.931056188))
            ThreePointArc((-1.34, 2.931056188), (-0.103449205, 3.251086208), (0.822593861, 4.13081419))
        make_face()
    extrude(amount=-CUT_EXTRUDE6_DEPTH, mode=Mode.SUBTRACT)


solid = part.part
